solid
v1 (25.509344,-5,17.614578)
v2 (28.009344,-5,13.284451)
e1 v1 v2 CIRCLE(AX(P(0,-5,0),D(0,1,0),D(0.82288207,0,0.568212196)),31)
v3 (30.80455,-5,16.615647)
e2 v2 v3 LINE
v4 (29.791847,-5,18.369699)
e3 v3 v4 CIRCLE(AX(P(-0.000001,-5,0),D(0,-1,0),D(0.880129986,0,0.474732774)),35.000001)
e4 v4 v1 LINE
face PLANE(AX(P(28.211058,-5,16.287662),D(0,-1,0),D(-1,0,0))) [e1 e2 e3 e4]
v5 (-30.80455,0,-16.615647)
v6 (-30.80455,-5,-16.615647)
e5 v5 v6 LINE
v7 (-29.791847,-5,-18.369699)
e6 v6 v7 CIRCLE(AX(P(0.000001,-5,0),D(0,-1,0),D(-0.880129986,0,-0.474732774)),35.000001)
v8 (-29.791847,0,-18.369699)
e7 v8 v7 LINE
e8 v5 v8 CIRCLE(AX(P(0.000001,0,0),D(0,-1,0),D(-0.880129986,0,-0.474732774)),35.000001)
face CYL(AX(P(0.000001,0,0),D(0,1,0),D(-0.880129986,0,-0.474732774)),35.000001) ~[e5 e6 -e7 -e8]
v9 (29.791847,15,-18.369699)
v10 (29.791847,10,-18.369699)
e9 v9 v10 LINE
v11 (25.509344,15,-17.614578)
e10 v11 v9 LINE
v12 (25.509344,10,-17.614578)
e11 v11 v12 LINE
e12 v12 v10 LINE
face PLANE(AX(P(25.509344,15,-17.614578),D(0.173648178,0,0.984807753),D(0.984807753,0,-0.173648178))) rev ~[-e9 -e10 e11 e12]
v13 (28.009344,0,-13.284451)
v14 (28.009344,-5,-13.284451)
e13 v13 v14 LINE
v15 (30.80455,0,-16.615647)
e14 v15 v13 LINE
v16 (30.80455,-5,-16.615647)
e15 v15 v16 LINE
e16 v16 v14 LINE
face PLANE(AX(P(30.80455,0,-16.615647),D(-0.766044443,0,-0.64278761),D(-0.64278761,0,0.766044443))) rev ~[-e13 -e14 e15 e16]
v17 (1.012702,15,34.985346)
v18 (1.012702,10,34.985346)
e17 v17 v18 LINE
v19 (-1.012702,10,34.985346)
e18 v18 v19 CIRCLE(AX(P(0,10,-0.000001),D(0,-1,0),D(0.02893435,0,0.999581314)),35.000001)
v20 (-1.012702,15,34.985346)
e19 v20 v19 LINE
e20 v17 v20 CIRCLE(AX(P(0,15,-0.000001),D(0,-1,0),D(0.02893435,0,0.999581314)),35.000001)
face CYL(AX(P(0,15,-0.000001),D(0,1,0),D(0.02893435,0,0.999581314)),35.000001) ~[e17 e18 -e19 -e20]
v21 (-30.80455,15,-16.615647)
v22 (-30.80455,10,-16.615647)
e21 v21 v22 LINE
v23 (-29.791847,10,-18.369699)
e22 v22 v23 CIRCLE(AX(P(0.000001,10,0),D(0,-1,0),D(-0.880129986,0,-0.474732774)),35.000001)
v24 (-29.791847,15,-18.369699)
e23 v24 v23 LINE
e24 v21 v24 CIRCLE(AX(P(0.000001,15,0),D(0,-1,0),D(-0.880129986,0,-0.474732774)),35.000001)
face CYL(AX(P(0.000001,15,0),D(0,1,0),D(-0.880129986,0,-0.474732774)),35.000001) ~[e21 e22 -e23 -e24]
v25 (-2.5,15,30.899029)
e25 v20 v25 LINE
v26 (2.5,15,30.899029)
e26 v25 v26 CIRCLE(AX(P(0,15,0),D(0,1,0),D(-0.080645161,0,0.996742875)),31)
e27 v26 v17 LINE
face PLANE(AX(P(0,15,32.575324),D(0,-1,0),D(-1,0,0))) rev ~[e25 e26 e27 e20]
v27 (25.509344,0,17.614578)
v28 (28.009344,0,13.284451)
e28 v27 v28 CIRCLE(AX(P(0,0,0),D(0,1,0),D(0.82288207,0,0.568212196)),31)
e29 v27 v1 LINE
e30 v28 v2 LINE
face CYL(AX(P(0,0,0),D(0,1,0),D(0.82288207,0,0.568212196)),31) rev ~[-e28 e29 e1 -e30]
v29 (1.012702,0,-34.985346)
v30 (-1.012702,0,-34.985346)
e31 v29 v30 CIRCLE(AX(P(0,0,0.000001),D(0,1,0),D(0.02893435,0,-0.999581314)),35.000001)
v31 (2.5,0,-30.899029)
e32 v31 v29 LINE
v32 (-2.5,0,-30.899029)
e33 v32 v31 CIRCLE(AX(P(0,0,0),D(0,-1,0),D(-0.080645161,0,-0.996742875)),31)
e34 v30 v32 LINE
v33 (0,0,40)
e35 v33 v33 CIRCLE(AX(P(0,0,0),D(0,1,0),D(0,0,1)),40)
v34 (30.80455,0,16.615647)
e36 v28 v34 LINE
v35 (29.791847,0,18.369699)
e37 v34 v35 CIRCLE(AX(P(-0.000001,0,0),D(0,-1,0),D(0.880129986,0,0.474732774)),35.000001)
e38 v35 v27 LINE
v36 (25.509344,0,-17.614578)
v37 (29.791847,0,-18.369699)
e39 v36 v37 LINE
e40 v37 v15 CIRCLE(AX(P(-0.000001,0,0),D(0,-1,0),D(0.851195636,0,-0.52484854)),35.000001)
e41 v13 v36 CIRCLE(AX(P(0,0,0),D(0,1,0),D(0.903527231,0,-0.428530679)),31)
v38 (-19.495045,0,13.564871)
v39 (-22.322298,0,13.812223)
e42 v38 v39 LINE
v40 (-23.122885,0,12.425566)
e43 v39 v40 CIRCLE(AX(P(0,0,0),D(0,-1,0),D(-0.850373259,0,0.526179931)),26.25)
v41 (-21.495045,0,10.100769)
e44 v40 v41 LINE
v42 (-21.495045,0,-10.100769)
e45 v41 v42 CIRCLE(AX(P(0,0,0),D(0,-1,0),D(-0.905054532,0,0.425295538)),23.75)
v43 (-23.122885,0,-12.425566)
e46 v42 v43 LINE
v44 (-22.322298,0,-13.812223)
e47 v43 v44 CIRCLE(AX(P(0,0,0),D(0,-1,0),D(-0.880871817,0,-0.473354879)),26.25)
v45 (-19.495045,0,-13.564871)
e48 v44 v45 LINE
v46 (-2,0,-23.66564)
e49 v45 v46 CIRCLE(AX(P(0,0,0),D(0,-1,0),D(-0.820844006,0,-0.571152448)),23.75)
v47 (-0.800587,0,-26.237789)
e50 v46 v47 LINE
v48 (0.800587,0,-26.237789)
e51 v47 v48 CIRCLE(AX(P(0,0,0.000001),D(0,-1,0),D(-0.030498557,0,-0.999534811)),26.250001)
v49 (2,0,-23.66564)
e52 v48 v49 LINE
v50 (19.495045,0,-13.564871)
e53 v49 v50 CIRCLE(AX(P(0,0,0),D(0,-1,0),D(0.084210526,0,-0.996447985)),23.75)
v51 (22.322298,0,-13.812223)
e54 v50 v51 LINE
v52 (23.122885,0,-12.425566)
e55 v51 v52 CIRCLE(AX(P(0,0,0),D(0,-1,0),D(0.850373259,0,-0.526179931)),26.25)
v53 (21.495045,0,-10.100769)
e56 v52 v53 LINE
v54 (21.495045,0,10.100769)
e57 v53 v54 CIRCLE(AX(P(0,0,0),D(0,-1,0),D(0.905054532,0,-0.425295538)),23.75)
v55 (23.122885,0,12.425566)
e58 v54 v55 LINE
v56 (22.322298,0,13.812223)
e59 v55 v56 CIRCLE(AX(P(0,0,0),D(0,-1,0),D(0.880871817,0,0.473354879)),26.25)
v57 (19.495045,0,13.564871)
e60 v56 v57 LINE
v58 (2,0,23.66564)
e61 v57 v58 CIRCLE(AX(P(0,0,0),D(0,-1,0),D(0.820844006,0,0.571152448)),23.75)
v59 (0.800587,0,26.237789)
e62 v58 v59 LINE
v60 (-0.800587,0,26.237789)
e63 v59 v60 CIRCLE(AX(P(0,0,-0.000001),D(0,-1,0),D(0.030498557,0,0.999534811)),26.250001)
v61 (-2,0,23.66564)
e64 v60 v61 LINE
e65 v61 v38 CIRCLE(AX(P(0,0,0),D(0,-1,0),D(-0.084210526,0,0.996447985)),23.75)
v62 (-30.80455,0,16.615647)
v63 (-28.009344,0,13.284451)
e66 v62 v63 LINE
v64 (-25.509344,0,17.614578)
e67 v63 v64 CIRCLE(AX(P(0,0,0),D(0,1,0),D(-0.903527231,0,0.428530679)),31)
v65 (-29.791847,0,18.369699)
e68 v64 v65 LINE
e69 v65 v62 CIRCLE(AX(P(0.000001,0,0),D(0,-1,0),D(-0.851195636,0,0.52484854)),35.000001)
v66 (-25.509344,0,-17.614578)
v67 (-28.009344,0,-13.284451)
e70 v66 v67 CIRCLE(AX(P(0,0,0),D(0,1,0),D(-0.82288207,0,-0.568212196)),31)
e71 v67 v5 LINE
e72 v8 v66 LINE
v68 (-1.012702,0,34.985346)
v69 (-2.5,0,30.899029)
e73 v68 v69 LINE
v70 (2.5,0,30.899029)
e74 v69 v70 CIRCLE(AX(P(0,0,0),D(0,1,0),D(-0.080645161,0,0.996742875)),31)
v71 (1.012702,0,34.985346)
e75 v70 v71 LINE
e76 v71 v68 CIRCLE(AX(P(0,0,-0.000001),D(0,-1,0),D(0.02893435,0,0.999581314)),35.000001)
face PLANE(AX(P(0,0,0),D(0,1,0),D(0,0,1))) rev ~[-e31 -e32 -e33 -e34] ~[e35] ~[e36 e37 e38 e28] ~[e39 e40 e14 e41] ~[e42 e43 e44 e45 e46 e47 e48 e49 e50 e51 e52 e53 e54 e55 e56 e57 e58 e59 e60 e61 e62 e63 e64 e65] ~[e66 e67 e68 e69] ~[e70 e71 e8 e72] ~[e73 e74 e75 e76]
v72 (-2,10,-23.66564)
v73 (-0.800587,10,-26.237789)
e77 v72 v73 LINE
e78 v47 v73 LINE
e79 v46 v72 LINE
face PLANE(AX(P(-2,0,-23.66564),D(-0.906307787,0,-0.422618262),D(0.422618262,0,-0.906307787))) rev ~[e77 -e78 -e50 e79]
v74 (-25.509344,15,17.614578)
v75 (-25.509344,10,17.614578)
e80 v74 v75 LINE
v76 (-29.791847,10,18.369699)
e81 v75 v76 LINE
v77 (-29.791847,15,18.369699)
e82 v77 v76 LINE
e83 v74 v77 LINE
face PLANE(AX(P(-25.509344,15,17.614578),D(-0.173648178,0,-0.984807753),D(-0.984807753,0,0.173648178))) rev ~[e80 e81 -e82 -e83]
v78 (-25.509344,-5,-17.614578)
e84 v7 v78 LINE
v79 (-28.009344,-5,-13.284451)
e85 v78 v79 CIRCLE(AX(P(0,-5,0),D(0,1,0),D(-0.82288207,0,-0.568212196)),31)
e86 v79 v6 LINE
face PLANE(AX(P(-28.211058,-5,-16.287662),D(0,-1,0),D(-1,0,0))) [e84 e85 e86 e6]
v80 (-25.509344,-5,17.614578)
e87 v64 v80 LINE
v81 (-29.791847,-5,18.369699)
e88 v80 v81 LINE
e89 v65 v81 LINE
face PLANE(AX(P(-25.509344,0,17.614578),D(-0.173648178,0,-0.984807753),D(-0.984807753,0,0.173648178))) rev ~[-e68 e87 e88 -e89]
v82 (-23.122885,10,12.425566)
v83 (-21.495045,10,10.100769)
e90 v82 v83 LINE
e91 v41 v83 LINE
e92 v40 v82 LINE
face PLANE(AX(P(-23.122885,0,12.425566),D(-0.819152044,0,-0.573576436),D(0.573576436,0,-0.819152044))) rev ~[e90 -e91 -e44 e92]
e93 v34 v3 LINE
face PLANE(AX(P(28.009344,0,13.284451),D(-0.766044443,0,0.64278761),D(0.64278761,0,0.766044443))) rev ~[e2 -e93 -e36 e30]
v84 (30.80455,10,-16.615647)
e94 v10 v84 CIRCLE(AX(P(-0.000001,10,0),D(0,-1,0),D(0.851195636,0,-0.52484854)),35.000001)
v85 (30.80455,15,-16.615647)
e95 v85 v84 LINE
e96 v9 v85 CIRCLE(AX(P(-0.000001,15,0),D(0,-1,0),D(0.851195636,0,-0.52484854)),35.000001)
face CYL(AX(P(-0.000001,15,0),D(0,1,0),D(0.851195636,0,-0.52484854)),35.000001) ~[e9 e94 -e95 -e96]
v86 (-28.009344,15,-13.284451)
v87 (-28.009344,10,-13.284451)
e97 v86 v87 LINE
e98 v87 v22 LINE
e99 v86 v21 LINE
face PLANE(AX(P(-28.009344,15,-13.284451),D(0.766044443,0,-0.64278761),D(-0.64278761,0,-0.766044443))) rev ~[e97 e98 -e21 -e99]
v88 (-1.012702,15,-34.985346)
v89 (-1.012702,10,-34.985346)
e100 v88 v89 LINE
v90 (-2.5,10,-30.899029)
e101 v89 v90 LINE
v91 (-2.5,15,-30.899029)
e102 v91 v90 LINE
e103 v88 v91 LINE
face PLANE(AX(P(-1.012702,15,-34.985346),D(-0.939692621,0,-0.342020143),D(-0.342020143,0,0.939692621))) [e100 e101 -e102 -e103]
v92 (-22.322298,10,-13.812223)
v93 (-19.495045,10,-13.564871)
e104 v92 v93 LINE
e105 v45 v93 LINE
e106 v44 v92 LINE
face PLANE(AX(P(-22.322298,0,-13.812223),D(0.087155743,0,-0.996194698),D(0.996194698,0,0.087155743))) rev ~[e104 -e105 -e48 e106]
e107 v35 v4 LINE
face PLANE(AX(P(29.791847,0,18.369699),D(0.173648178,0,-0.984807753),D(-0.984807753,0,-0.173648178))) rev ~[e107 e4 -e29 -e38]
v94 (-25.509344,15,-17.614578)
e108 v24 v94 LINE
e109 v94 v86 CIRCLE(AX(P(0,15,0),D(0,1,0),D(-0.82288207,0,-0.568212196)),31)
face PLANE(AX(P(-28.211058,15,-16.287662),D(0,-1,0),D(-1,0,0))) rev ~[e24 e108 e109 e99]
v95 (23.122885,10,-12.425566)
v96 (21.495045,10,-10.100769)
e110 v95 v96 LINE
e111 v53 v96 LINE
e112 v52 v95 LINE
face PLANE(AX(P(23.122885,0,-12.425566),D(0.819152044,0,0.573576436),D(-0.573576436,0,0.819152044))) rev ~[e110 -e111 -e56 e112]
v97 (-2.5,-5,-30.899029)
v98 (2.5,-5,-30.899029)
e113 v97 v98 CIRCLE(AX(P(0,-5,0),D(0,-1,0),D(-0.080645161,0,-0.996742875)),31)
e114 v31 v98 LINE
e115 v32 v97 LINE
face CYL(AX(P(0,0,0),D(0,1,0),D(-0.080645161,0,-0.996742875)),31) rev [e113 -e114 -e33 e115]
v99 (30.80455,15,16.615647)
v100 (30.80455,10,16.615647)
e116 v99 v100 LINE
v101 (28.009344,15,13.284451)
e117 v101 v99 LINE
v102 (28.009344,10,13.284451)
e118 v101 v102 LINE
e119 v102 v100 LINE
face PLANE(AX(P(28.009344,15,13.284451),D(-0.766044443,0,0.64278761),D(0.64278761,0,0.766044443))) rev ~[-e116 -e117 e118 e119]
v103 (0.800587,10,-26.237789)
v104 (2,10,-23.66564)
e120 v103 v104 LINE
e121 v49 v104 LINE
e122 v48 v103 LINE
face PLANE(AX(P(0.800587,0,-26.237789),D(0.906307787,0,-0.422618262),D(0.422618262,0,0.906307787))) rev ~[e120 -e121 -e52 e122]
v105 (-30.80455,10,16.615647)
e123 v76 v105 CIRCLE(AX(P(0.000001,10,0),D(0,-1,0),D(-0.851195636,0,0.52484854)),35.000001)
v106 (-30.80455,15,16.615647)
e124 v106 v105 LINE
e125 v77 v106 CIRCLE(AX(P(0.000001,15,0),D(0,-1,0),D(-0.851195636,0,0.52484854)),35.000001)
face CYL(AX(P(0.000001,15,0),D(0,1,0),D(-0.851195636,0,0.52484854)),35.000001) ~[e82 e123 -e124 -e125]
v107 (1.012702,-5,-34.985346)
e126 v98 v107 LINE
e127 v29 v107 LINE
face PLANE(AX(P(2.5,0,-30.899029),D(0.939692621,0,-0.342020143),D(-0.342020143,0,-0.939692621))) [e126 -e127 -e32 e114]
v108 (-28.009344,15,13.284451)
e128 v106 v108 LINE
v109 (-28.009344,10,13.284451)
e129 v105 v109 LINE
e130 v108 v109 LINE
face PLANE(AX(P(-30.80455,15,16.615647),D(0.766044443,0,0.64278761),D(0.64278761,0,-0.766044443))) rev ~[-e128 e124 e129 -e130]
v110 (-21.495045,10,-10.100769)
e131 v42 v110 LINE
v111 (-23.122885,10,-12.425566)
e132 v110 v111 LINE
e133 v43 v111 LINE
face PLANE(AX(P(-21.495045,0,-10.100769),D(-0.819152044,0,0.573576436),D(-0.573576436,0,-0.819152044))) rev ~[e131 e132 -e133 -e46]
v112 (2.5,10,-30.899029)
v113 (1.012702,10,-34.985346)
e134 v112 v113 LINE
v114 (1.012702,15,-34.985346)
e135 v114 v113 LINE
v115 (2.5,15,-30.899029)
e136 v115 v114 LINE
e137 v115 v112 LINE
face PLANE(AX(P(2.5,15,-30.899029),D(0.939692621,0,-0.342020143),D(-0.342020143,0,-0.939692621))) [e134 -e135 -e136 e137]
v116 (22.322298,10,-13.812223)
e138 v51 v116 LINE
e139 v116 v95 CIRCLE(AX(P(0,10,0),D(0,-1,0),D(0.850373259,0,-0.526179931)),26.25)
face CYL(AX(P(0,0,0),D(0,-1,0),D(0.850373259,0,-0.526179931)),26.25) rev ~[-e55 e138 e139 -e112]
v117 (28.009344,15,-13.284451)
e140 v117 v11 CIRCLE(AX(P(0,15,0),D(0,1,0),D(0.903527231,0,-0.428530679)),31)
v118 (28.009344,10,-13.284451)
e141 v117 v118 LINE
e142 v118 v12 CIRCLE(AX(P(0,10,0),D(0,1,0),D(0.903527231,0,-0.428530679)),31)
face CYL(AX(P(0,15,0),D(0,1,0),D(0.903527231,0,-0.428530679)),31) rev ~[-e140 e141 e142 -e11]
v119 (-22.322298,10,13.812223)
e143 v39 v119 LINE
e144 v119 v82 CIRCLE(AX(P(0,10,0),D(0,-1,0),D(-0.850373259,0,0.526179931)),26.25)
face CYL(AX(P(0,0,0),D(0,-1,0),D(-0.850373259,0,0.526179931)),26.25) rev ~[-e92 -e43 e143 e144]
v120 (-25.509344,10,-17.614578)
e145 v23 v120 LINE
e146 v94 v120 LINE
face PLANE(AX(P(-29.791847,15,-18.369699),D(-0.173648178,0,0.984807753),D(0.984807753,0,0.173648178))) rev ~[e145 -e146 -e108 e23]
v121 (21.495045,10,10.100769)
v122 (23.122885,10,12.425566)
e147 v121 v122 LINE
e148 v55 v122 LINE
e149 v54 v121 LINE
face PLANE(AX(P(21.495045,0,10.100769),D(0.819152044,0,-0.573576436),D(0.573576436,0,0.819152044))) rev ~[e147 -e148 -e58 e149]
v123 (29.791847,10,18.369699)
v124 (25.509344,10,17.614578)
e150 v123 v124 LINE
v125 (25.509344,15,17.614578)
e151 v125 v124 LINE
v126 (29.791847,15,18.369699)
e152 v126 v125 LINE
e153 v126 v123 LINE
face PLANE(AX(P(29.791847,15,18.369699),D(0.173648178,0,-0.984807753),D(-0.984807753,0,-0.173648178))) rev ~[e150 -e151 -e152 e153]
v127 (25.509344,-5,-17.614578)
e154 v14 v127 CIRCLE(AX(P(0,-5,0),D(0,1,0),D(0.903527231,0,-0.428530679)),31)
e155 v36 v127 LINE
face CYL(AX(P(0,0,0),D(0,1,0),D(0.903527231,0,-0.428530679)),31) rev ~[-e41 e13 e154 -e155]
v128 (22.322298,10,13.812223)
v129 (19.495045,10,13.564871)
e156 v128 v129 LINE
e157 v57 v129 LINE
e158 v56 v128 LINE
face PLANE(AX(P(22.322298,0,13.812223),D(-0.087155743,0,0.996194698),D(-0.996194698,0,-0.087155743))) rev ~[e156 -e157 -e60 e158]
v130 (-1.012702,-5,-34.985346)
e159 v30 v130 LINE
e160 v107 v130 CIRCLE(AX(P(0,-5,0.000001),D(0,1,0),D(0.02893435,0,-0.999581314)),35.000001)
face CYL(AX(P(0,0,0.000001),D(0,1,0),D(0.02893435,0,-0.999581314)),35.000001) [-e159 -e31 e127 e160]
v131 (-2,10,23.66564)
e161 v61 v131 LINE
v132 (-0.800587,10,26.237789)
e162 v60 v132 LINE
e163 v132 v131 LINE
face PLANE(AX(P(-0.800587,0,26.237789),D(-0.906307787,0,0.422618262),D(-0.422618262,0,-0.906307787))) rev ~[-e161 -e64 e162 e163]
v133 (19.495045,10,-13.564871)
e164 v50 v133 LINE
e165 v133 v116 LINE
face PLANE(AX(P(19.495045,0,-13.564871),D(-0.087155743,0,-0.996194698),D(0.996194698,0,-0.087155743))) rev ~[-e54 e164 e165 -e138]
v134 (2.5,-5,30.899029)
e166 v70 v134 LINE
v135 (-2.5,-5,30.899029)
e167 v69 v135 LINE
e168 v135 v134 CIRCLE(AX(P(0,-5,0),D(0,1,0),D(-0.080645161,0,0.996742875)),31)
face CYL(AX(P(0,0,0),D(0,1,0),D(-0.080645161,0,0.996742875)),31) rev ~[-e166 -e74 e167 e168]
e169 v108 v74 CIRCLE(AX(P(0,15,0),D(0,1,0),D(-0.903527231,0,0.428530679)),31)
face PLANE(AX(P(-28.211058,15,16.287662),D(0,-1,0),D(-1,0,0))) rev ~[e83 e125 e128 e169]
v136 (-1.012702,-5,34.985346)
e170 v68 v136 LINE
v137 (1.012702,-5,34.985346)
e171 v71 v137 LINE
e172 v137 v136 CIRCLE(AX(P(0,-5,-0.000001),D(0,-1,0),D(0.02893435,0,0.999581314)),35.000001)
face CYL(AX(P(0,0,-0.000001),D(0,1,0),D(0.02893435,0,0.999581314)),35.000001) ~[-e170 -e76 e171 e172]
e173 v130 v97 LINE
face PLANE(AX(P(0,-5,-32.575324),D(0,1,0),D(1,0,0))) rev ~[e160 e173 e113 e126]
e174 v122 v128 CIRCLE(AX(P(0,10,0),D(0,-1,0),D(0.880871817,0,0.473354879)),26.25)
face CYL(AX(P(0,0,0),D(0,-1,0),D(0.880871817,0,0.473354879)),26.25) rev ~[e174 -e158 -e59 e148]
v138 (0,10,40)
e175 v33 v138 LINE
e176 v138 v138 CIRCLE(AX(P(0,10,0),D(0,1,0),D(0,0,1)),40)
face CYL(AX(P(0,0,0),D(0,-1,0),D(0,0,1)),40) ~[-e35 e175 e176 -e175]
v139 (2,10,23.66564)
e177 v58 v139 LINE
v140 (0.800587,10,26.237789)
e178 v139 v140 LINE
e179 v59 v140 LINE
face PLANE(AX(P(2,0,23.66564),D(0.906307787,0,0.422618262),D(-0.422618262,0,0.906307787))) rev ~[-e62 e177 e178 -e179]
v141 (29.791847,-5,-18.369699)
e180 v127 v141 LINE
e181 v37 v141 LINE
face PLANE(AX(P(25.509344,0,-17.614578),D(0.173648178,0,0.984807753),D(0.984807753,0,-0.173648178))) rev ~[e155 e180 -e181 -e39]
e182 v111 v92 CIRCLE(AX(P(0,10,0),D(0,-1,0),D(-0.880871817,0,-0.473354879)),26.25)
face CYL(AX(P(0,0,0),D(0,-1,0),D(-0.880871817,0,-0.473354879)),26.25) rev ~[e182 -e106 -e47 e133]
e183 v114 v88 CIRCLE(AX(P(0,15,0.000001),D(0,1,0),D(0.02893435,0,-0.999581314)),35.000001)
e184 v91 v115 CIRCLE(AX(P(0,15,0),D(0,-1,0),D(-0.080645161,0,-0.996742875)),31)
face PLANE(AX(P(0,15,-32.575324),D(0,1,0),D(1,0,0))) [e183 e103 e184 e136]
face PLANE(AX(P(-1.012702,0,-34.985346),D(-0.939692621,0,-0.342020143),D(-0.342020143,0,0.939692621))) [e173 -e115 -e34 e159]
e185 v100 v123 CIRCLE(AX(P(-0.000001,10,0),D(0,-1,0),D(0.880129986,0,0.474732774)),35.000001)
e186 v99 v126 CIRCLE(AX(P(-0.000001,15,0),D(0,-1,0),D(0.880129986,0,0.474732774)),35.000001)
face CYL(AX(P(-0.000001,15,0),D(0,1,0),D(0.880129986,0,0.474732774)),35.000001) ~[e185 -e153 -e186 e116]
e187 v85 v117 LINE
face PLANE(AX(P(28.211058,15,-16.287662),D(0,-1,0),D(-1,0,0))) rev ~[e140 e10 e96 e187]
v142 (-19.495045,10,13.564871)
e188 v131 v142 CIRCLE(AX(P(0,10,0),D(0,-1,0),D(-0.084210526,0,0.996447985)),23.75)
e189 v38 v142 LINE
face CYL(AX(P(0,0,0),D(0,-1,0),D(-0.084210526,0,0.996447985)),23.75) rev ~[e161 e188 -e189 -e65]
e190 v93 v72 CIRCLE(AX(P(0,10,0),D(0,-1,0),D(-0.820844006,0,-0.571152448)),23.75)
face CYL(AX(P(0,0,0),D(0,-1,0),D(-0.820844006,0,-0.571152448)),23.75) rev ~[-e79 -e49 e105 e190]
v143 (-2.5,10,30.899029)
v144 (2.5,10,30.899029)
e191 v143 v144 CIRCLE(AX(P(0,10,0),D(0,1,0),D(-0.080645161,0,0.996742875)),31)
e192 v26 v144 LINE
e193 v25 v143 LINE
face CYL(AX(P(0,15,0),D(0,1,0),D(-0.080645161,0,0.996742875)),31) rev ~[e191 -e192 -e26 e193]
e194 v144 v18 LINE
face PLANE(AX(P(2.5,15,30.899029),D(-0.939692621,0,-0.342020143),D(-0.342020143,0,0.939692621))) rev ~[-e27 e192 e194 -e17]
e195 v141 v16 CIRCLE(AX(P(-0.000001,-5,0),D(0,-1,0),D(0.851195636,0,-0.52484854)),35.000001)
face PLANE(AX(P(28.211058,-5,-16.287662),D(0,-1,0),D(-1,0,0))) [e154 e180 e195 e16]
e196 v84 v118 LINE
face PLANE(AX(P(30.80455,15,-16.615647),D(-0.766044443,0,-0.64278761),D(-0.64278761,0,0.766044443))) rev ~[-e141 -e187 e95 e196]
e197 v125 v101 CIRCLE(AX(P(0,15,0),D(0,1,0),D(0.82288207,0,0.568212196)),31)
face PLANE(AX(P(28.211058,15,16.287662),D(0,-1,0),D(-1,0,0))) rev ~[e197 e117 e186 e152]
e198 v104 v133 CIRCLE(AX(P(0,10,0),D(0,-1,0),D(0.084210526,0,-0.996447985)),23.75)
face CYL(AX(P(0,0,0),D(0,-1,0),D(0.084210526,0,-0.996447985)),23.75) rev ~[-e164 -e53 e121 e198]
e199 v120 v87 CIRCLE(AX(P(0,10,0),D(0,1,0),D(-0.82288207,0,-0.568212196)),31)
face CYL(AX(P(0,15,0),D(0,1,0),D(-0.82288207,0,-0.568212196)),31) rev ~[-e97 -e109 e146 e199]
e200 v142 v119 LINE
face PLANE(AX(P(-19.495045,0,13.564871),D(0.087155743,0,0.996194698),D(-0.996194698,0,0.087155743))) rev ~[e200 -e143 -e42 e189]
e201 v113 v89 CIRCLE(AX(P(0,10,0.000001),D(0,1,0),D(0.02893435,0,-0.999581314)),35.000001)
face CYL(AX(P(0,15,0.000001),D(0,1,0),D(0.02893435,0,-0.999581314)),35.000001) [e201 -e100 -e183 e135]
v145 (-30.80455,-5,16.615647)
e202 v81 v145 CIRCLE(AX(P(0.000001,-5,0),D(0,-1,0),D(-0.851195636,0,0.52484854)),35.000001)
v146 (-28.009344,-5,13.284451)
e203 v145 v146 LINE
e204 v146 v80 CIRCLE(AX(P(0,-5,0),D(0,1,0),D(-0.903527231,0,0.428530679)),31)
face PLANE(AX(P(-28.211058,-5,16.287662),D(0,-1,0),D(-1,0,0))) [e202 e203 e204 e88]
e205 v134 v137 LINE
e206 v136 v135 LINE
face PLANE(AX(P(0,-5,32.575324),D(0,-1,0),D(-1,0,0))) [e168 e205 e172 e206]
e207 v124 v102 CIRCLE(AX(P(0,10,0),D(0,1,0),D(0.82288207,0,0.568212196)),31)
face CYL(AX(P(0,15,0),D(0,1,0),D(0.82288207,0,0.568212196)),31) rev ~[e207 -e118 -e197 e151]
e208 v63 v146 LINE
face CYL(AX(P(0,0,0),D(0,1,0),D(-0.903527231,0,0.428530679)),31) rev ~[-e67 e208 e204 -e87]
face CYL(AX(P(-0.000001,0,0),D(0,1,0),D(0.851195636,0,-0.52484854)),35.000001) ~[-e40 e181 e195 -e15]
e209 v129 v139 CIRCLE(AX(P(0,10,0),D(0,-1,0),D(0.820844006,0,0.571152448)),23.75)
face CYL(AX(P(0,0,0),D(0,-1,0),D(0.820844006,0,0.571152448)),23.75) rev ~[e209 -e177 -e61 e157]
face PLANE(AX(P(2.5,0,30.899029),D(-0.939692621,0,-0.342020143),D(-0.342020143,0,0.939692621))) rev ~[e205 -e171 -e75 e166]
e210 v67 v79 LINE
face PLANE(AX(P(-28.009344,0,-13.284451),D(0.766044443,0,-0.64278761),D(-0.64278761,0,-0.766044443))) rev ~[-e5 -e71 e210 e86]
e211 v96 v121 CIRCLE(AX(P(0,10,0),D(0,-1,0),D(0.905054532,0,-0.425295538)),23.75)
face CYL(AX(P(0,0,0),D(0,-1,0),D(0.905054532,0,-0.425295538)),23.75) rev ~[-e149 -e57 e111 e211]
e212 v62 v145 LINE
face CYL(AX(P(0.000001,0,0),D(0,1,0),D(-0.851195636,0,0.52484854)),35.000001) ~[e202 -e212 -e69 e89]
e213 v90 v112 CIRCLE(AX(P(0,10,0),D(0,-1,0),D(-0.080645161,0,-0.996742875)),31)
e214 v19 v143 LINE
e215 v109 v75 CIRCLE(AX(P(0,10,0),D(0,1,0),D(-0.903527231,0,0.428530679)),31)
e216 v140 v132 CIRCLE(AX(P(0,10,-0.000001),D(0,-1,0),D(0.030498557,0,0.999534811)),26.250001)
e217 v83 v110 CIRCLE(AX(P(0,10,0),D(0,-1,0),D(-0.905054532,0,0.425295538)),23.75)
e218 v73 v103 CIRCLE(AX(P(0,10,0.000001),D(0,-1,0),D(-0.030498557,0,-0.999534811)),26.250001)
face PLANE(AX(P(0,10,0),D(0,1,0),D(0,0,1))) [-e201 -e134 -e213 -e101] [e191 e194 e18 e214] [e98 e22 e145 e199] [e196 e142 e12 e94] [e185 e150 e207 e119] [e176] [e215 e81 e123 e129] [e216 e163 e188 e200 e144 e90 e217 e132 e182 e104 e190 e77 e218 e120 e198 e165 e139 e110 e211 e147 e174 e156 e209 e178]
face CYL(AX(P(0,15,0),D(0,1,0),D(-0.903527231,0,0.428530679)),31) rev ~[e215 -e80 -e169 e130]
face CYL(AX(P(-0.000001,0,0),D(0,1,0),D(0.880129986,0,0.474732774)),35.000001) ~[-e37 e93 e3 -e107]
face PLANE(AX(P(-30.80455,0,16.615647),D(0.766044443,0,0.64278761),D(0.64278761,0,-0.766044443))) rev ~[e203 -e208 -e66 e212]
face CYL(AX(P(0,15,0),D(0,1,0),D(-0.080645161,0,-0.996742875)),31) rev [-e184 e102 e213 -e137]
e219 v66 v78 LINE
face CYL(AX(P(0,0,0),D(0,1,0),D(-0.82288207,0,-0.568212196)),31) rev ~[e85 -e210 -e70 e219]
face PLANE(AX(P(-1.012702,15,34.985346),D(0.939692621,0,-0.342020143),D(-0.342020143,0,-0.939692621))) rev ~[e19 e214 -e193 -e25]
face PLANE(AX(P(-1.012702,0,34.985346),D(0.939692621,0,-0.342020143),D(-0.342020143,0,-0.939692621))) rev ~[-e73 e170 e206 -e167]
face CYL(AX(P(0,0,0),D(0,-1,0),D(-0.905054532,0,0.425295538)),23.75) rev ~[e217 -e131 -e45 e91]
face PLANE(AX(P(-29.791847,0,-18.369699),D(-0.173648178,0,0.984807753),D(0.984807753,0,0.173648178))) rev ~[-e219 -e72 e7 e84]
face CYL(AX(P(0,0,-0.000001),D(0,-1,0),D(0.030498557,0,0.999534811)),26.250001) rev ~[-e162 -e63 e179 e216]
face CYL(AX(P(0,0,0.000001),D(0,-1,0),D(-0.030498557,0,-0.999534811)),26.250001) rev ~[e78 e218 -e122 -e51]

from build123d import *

# Parameters (mm, degrees)
SKETCH1_R           = 40
BOSS_EXTRUDE1_DEPTH = 10
BOSS_EXTRUDE4_START = -10
BOSS_EXTRUDE4_DEPTH = 5
BOSS_EXTRUDE5_START = 5
BOSS_EXTRUDE5_DEPTH = 5


with BuildPart() as part:
    # Sketch1 → Boss-Extrude1 (new body)
    with BuildSketch(Plane(origin=(0, 0, 0), x_dir=(1, 0, 0), z_dir=(0, 1, 0))):
        with Locations(Location((0, 0, 0), (0, 0, 270))):
            Circle(SKETCH1_R)
        with BuildLine():
            Line((-2, 23.665639649), (-0.800587161, 26.237788783))
            ThreePointArc((-0.800587161, 26.237788783), (0, 26.25), (0.800587161, 26.237788783))
            Line((0.800587161, 26.237788783), (2, 23.665639649))
            ThreePointArc((2, 23.665639649), (11.875, 20.56810334), (19.495045133, 13.564870632))
            Line((19.495045133, 13.564870632), (22.322298044, 13.812223211))
            ThreePointArc((22.322298044, 13.812223211), (22.733166849, 13.125), (23.122885205, 12.425565572))
            Line((23.122885205, 12.425565572), (21.495045133, 10.100769017))
            ThreePointArc((21.495045133, 10.100769017), (23.75, 0), (21.495045133, -10.100769017))
            Line((21.495045133, -10.100769017), (23.122885205, -12.425565572))
            ThreePointArc((23.122885205, -12.425565572), (22.733166849, -13.125), (22.322298044, -13.812223211))
            Line((22.322298044, -13.812223211), (19.495045133, -13.564870632))
            ThreePointArc((19.495045133, -13.564870632), (11.875, -20.56810334), (2, -23.665639649))
            Line((2, -23.665639649), (0.800587161, -26.237788783))
            ThreePointArc((0.800587161, -26.237788783), (0, -26.25), (-0.800587161, -26.237788783))
            Line((-0.800587161, -26.237788783), (-2, -23.665639649))
            ThreePointArc((-2, -23.665639649), (-11.875, -20.56810334), (-19.495045133, -13.564870632))
            Line((-19.495045133, -13.564870632), (-22.322298044, -13.812223211))
            ThreePointArc((-22.322298044, -13.812223211), (-22.733166849, -13.125), (-23.122885205, -12.425565572))
            Line((-23.122885205, -12.425565572), (-21.495045133, -10.100769017))
            ThreePointArc((-21.495045133, -10.100769017), (-23.75, 0), (-21.495045133, 10.100769017))
            Line((-21.495045133, 10.100769017), (-23.122885205, 12.425565572))
            ThreePointArc((-23.122885205, 12.425565572), (-22.733166849, 13.125), (-22.322298044, 13.812223211))
            Line((-22.322298044, 13.812223211), (-19.495045133, 13.564870632))
            ThreePointArc((-19.495045133, 13.564870632), (-11.875, 20.56810334), (-2, 23.665639649))
        make_face(mode=Mode.SUBTRACT)
    extrude(amount=BOSS_EXTRUDE1_DEPTH)

    # 1,2,3 → Boss-Extrude4 (add)
    with BuildSketch(Plane(origin=(0, 10, 0), x_dir=(1, 0, 0), z_dir=(0, 1, 0)).offset(BOSS_EXTRUDE4_START)):
        with BuildLine():
            Line((2.5, 30.899029111), (1.012702288, 34.985345991))
            ThreePointArc((1.012702288, 34.985345991), (0, 35), (-1.012702288, 34.985345991))
            Line((-1.012702288, 34.985345991), (-2.5, 30.899029111))
            ThreePointArc((-2.5, 30.899029111), (0, 31), (2.5, 30.899029111))
        make_face()
        with BuildLine():
            Line((25.509344162, 17.614578065), (29.791847244, 18.369698903))
            ThreePointArc((29.791847244, 18.369698903), (30.310889132, 17.5), (30.804549532, 16.615647087))
            Line((30.804549532, 16.615647087), (28.009344162, 13.284451046))
            ThreePointArc((28.009344162, 13.284451046), (26.846787517, 15.5), (25.509344162, 17.614578065))
        make_face()
        with BuildLine():
            Line((28.009344162, -13.284451046), (30.804549532, -16.615647087))
            ThreePointArc((30.804549532, -16.615647087), (30.310889132, -17.5), (29.791847244, -18.369698903))
            Line((29.791847244, -18.369698903), (25.509344162, -17.614578065))
            ThreePointArc((25.509344162, -17.614578065), (26.846787517, -15.5), (28.009344162, -13.284451046))
        make_face()
        with BuildLine():
            Line((2.5, -30.899029111), (1.012702288, -34.985345991))
            ThreePointArc((1.012702288, -34.985345991), (0, -35), (-1.012702288, -34.985345991))
            Line((-1.012702288, -34.985345991), (-2.5, -30.899029111))
            ThreePointArc((-2.5, -30.899029111), (0, -31), (2.5, -30.899029111))
        make_face()
        with BuildLine():
            Line((-25.509344162, -17.614578065), (-29.791847244, -18.369698903))
            ThreePointArc((-29.791847244, -18.369698903), (-30.310889132, -17.5), (-30.804549532, -16.615647087))
            Line((-30.804549532, -16.615647087), (-28.009344162, -13.284451046))
            ThreePointArc((-28.009344162, -13.284451046), (-26.846787517, -15.5), (-25.509344162, -17.614578065))
        make_face()
        with BuildLine():
            Line((-28.009344162, 13.284451046), (-30.804549532, 16.615647087))
            ThreePointArc((-30.804549532, 16.615647087), (-30.310889132, 17.5), (-29.791847244, 18.369698903))
            Line((-29.791847244, 18.369698903), (-25.509344162, 17.614578065))
            ThreePointArc((-25.509344162, 17.614578065), (-26.846787517, 15.5), (-28.009344162, 13.284451046))
        make_face()
    extrude(amount=-BOSS_EXTRUDE4_DEPTH)

    # 1,2,3<2> → Boss-Extrude5 (add)
    with BuildSketch(Plane(origin=(0, 10, 0), x_dir=(1, 0, 0), z_dir=(0, 1, 0)).offset(BOSS_EXTRUDE5_START)):
        with BuildLine():
            Line((2.5, 30.899029111), (1.012702288, 34.985345991))
            ThreePointArc((1.012702288, 34.985345991), (0, 35), (-1.012702288, 34.985345991))
            Line((-1.012702288, 34.985345991), (-2.5, 30.899029111))
            ThreePointArc((-2.5, 30.899029111), (0, 31), (2.5, 30.899029111))
        make_face()
        with BuildLine():
            Line((25.509344162, 17.614578065), (29.791847244, 18.369698903))
            ThreePointArc((29.791847244, 18.369698903), (30.310889132, 17.5), (30.804549532, 16.615647087))
            Line((30.804549532, 16.615647087), (28.009344162, 13.284451046))
            ThreePointArc((28.009344162, 13.284451046), (26.846787517, 15.5), (25.509344162, 17.614578065))
        make_face()
        with BuildLine():
            Line((28.009344162, -13.284451046), (30.804549532, -16.615647087))
            ThreePointArc((30.804549532, -16.615647087), (30.310889132, -17.5), (29.791847244, -18.369698903))
            Line((29.791847244, -18.369698903), (25.509344162, -17.614578065))
            ThreePointArc((25.509344162, -17.614578065), (26.846787517, -15.5), (28.009344162, -13.284451046))
        make_face()
        with BuildLine():
            Line((2.5, -30.899029111), (1.012702288, -34.985345991))
            ThreePointArc((1.012702288, -34.985345991), (0, -35), (-1.012702288, -34.985345991))
            Line((-1.012702288, -34.985345991), (-2.5, -30.899029111))
            ThreePointArc((-2.5, -30.899029111), (0, -31), (2.5, -30.899029111))
        make_face()
        with BuildLine():
            Line((-25.509344162, -17.614578065), (-29.791847244, -18.369698903))
            ThreePointArc((-29.791847244, -18.369698903), (-30.310889132, -17.5), (-30.804549532, -16.615647087))
            Line((-30.804549532, -16.615647087), (-28.009344162, -13.284451046))
            ThreePointArc((-28.009344162, -13.284451046), (-26.846787517, -15.5), (-25.509344162, -17.614578065))
        make_face()
        with BuildLine():
            Line((-28.009344162, 13.284451046), (-30.804549532, 16.615647087))
            ThreePointArc((-30.804549532, 16.615647087), (-30.310889132, 17.5), (-29.791847244, 18.369698903))
            Line((-29.791847244, 18.369698903), (-25.509344162, 17.614578065))
            ThreePointArc((-25.509344162, 17.614578065), (-26.846787517, 15.5), (-28.009344162, 13.284451046))
        make_face()
    extrude(amount=-BOSS_EXTRUDE5_DEPTH)


solid = part.part
